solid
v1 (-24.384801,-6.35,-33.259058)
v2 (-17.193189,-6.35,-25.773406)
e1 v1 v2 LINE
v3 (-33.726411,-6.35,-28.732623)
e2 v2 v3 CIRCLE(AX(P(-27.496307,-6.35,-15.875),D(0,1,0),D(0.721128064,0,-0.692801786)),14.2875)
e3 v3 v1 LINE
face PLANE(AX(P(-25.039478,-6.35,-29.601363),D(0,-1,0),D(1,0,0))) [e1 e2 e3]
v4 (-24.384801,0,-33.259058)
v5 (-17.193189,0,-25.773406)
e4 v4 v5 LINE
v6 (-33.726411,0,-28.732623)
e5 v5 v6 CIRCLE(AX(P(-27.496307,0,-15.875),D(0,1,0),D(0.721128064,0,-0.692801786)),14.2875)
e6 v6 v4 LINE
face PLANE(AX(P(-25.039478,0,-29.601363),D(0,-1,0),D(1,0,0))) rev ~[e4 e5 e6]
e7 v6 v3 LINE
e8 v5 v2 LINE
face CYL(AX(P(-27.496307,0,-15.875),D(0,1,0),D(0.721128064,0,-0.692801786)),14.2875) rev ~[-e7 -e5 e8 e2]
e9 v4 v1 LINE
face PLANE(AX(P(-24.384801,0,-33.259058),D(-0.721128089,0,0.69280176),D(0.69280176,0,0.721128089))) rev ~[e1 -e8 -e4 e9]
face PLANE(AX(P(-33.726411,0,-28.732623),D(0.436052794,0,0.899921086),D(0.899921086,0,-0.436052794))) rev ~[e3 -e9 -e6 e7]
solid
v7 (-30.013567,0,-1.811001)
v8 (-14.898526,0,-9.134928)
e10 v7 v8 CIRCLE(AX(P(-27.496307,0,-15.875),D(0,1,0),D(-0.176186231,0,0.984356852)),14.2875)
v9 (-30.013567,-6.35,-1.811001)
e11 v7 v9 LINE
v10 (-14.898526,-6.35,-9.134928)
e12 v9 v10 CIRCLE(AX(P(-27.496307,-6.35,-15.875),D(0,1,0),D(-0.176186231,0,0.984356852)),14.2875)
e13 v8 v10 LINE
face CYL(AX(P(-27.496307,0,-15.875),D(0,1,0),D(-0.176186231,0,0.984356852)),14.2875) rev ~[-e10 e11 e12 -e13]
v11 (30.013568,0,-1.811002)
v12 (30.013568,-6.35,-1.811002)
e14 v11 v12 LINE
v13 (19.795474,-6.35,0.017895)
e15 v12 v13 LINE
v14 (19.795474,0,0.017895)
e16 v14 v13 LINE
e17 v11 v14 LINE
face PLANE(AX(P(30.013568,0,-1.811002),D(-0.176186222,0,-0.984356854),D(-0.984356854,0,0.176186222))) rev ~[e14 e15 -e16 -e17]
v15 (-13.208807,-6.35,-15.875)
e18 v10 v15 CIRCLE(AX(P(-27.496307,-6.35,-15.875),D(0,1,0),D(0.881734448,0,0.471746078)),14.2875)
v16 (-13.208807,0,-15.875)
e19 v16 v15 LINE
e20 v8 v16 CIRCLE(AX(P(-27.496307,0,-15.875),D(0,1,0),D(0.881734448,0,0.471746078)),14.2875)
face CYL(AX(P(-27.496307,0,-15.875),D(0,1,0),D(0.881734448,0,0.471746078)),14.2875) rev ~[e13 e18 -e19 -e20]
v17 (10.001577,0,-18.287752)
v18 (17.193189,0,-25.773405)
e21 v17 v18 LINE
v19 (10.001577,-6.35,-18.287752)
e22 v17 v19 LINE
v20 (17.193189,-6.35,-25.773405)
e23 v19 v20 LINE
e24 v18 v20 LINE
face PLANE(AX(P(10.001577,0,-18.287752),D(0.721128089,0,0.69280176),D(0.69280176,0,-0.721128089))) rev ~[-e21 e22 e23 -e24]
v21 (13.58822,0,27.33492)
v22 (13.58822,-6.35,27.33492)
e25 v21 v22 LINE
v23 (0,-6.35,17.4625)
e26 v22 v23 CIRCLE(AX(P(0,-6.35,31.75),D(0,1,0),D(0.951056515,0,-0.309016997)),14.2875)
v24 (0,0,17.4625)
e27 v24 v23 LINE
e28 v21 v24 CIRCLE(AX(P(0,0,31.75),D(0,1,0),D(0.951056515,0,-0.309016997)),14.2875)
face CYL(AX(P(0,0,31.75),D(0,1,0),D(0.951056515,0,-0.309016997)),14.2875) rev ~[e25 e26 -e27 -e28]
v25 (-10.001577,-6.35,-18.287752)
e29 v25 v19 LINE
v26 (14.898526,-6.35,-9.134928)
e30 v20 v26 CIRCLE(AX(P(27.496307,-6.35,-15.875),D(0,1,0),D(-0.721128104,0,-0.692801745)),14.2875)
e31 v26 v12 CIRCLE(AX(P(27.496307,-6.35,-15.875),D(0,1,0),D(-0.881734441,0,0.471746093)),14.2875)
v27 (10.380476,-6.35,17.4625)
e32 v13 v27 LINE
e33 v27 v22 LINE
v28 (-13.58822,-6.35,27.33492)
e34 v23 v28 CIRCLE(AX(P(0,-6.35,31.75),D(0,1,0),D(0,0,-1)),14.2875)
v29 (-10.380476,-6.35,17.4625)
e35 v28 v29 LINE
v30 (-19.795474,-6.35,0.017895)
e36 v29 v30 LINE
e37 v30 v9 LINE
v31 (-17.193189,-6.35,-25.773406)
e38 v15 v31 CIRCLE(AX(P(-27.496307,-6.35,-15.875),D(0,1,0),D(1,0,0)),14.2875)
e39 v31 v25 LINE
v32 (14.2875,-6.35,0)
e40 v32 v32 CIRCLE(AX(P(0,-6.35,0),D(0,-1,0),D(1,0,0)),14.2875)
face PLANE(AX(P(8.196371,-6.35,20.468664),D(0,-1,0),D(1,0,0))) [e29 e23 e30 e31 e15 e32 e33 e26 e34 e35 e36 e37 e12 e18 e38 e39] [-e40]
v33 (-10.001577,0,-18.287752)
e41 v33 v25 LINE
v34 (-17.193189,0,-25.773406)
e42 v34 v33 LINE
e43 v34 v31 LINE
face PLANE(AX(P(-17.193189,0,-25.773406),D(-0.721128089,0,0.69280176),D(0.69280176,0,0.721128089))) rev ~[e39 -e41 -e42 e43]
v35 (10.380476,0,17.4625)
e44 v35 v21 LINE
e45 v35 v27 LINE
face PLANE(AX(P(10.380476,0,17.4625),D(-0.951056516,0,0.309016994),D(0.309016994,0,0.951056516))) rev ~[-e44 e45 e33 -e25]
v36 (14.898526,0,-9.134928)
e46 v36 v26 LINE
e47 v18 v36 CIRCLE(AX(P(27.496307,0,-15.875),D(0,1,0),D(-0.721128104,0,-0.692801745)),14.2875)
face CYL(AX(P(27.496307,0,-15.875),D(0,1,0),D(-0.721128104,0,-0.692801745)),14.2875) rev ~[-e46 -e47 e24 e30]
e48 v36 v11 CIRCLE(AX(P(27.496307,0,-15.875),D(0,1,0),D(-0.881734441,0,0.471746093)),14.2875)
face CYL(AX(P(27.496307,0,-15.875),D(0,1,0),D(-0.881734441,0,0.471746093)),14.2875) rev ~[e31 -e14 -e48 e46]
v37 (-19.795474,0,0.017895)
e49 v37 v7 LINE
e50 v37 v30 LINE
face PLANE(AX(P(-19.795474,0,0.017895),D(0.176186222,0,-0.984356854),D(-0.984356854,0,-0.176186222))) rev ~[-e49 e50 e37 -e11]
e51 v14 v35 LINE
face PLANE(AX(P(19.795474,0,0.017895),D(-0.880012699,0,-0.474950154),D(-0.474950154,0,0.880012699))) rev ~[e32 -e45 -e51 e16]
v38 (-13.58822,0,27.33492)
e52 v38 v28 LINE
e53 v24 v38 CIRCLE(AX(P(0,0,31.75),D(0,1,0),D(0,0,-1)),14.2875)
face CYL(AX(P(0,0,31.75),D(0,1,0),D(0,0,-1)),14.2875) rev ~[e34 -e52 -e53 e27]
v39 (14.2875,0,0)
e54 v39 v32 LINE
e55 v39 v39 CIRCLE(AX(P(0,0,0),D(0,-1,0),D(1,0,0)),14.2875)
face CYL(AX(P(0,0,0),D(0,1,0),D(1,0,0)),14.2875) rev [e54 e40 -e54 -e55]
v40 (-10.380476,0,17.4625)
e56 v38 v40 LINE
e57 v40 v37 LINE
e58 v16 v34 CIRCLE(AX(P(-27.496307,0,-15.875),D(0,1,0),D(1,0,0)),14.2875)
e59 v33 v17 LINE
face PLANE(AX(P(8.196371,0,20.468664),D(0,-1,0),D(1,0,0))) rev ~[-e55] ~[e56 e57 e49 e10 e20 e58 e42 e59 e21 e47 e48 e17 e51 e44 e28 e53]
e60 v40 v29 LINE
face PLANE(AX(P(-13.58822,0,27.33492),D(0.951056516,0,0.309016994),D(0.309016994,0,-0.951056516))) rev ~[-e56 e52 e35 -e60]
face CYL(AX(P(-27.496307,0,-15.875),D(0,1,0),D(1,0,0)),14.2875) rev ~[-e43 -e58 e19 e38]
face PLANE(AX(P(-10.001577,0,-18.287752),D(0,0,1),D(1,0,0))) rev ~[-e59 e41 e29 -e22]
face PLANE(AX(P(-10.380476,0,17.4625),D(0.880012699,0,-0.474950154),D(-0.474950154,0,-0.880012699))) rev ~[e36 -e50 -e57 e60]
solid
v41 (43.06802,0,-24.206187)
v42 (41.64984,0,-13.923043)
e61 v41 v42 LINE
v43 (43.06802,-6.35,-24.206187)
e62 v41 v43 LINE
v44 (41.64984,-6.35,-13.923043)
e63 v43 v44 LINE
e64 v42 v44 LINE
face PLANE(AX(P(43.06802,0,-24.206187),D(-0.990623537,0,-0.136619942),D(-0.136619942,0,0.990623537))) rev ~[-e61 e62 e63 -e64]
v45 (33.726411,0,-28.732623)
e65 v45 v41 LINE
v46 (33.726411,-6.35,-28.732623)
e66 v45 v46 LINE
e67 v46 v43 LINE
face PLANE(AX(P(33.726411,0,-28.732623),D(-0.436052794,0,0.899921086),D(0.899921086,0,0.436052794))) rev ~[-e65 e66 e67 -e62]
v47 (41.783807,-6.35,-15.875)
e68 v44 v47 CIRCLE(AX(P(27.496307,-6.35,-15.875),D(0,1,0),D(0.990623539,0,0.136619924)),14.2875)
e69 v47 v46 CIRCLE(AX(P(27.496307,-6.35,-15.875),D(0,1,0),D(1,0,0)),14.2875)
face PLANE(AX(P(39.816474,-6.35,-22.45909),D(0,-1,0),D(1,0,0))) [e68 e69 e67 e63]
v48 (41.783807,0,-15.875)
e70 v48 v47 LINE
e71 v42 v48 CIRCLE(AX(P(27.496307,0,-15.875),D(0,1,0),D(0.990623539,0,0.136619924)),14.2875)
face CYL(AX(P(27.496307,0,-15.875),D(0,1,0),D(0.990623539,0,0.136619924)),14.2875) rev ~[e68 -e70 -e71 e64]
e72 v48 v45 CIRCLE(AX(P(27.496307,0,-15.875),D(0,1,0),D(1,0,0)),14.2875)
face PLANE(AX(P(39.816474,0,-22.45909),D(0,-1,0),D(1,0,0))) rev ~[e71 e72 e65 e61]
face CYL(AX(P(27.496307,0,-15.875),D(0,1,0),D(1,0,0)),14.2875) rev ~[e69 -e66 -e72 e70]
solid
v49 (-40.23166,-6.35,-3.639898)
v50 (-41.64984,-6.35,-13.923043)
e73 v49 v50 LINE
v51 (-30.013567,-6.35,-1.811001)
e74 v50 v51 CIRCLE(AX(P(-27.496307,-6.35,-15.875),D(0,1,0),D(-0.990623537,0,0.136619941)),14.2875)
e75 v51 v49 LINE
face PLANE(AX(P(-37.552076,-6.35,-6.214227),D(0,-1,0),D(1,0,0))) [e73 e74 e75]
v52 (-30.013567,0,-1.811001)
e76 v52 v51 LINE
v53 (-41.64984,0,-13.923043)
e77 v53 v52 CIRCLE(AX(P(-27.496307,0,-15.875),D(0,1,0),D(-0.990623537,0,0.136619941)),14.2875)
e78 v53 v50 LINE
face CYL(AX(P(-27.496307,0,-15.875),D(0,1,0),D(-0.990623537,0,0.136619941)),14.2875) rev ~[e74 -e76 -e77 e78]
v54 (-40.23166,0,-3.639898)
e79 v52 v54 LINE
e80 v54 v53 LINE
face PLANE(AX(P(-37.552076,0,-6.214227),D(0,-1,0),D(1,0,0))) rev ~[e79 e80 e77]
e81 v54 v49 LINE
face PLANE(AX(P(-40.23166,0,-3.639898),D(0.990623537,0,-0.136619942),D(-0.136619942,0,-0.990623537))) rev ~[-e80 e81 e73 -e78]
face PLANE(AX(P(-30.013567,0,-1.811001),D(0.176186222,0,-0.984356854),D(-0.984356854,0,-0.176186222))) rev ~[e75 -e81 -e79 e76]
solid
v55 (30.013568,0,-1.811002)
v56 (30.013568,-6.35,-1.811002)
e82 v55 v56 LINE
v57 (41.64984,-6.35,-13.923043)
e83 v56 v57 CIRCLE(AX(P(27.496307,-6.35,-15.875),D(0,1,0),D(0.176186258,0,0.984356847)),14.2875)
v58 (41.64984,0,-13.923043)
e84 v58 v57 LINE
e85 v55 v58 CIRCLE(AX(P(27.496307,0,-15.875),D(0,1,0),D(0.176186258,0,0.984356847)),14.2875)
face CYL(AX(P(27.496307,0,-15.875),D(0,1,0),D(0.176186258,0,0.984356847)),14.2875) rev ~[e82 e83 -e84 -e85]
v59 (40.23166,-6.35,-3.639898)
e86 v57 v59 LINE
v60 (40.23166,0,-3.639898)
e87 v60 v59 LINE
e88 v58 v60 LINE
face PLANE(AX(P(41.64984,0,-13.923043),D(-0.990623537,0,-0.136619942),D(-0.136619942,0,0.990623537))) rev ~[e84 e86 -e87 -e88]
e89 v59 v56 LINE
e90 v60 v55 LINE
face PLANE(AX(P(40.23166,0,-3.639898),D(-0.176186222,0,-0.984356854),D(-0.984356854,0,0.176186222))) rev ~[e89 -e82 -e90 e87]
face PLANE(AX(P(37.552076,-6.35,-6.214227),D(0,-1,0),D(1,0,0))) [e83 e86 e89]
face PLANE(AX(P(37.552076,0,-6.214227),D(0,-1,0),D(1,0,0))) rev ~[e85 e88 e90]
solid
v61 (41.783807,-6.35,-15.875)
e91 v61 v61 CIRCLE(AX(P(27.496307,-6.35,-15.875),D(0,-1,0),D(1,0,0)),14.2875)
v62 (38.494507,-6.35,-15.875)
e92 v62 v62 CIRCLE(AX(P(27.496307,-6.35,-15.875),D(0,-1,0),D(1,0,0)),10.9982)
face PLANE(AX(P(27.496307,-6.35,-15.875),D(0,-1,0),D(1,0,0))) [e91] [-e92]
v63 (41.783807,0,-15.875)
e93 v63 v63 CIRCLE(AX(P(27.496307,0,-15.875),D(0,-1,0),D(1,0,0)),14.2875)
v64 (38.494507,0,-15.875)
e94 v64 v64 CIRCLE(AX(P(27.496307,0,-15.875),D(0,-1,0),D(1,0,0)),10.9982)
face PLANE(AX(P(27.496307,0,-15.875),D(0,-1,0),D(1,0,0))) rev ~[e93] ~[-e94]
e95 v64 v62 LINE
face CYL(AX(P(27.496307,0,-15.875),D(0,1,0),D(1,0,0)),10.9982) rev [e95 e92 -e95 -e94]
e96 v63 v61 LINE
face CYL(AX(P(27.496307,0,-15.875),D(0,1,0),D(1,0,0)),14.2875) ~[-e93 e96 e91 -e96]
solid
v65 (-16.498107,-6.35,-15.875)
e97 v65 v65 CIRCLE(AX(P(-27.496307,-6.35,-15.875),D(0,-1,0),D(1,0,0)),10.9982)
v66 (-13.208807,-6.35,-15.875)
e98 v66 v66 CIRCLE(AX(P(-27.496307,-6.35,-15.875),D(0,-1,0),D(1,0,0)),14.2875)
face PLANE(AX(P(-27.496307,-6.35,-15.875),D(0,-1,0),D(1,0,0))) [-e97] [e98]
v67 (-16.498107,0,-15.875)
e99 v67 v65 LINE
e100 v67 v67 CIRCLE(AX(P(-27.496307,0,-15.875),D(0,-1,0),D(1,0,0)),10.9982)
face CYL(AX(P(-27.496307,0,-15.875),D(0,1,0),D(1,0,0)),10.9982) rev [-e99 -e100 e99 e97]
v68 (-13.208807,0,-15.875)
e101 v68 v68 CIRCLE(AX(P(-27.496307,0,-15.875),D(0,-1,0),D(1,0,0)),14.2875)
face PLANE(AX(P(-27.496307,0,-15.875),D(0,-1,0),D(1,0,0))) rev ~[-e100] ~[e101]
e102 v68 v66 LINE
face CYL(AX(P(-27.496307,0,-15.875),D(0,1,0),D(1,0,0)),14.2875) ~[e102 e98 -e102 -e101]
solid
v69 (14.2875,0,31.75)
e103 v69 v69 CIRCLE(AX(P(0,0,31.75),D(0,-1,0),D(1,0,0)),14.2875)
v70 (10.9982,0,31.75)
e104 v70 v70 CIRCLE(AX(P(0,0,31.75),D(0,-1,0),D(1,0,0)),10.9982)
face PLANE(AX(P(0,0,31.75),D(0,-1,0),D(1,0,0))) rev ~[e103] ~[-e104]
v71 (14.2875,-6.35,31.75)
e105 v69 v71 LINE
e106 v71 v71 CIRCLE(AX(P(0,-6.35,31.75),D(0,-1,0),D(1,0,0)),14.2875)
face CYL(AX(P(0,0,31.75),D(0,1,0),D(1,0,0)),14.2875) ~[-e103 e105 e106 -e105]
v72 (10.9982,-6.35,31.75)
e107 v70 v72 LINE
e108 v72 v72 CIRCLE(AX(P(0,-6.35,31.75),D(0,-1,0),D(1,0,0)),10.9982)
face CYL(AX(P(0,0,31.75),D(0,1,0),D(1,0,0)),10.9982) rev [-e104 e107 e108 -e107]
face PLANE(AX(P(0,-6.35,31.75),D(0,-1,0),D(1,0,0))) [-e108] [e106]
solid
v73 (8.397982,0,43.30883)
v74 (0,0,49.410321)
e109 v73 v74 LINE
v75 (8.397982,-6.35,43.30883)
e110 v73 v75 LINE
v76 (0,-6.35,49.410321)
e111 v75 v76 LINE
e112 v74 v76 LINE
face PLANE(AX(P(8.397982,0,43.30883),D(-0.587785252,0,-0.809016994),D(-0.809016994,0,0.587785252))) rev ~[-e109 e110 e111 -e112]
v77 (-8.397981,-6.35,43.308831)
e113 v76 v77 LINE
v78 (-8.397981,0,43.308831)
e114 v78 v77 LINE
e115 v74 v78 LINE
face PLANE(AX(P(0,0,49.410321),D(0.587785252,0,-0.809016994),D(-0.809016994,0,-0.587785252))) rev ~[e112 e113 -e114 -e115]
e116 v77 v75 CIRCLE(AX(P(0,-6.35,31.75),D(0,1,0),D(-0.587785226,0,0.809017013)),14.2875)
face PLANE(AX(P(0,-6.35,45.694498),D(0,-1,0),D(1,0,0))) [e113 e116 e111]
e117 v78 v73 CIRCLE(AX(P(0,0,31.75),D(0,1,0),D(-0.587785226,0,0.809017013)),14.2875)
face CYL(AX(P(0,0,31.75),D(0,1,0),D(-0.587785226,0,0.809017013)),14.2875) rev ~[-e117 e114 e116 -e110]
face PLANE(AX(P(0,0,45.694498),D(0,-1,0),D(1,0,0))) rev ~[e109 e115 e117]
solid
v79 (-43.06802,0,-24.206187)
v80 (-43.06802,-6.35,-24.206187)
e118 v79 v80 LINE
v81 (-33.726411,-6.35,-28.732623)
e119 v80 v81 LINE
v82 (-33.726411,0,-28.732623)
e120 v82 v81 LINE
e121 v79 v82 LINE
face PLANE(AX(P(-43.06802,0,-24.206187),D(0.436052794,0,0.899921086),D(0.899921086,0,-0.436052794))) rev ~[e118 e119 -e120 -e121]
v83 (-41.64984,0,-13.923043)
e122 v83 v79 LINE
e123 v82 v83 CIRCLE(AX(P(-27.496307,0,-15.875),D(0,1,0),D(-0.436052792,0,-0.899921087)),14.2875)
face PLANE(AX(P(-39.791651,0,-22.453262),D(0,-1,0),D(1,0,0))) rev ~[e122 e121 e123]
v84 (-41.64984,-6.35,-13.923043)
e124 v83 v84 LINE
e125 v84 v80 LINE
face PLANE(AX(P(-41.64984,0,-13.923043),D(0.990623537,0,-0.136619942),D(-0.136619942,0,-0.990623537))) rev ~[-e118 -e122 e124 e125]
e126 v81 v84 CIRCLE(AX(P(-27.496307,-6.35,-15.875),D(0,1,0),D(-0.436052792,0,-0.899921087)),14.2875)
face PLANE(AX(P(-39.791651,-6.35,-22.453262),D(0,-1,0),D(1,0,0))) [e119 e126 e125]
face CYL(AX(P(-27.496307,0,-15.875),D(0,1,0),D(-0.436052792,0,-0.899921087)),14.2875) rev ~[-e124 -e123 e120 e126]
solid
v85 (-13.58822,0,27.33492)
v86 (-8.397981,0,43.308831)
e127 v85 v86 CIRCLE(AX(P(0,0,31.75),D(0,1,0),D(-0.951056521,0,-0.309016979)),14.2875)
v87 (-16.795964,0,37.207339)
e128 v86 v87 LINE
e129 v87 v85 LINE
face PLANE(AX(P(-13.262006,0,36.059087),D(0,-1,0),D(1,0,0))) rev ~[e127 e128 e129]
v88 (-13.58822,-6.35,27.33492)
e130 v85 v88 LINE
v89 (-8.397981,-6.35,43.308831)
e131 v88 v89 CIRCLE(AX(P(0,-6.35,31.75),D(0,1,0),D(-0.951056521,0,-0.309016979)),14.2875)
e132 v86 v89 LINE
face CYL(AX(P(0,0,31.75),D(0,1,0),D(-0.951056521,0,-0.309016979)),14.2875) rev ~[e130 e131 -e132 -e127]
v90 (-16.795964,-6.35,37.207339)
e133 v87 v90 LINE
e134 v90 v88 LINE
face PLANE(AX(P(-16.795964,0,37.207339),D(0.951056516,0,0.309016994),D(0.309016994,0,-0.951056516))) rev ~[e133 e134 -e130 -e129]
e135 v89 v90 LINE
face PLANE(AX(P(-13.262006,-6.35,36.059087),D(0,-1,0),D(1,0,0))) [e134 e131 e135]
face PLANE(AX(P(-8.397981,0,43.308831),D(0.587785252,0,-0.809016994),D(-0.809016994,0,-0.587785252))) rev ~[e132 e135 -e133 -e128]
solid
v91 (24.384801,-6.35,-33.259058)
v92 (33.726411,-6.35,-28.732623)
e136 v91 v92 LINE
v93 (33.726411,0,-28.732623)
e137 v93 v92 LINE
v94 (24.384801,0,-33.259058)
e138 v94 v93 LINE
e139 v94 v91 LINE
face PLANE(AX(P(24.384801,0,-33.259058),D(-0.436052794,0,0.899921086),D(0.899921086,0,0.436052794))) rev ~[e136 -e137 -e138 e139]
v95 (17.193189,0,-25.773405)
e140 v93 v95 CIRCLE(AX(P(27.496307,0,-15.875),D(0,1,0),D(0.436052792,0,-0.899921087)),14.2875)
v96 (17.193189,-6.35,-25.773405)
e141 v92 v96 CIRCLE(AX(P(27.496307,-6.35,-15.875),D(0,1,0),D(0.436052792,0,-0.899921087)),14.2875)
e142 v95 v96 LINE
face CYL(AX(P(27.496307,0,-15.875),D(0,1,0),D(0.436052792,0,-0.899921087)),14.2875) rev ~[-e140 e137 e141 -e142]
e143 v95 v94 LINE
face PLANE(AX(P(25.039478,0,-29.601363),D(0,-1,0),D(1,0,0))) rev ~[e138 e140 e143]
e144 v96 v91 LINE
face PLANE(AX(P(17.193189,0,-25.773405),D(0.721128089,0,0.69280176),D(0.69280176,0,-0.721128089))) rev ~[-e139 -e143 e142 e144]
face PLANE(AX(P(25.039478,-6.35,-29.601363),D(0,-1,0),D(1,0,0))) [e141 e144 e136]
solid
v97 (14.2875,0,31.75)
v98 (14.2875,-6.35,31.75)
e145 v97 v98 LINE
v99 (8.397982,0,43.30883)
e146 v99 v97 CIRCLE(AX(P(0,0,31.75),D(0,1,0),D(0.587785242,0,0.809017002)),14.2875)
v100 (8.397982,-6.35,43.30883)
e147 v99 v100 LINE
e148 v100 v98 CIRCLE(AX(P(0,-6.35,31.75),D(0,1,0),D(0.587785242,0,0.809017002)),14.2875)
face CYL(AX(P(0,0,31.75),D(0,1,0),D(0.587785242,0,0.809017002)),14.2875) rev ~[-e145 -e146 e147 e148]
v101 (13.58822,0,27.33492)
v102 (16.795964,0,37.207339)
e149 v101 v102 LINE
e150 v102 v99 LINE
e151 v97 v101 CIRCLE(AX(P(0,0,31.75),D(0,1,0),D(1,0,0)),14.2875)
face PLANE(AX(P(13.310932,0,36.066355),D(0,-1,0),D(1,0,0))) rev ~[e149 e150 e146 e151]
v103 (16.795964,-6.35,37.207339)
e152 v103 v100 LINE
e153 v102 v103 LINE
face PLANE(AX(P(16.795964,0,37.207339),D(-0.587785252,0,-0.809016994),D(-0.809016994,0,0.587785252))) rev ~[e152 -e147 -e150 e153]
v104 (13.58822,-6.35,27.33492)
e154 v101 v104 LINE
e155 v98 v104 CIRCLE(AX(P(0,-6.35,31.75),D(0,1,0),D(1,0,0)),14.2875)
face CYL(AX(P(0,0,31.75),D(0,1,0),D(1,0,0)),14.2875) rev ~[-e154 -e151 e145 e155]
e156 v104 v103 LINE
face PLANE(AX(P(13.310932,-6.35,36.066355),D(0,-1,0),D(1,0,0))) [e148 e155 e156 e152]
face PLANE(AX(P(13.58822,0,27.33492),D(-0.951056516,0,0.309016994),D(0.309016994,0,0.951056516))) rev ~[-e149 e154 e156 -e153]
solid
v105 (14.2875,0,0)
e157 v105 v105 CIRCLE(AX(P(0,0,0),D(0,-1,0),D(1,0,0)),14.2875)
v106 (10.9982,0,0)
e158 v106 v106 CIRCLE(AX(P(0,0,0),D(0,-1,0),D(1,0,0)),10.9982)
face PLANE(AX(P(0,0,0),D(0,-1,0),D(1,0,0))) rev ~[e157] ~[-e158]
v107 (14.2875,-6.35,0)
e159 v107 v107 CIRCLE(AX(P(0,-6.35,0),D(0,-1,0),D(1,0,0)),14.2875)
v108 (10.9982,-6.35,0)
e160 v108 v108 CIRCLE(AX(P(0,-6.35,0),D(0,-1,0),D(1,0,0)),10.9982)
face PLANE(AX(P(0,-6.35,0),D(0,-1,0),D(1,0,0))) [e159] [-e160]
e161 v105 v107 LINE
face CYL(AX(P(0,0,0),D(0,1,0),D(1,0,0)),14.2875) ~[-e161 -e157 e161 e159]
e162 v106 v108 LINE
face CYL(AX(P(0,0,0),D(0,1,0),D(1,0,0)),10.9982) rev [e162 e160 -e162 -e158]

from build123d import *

# Parameters (mm, degrees)
F2_DEPTH = 6.35
F1_R     = 14.2875
F0_R     = 14.2875
F0_R_2   = 10.9982


with BuildPart() as f2:
    # F1 (on Front) → F2 (new body)
    with BuildSketch(Plane.XZ):
        with BuildLine():
            ThreePointArc((-8.3979814229, 43.3088305754), (1.363e-07, 46.0375), (8.3979816434, 43.3088304152))
            Line((8.3979816434, 43.3088304152), (0, 49.4103212285))
            Line((0, 49.4103212285), (-8.3979814229, 43.3088305754))
        make_face()
    extrude(amount=F2_DEPTH)


with BuildPart() as f2b:
    # F1 (on Front) → F2, piece 2 (new body)
    with BuildSketch(Plane.XZ):
        with BuildLine():
            ThreePointArc((8.3979816434, 43.3088304152), (12.7302556726, 38.2363893469), (14.2875, 31.75))
            ThreePointArc((14.2875, 31.75), (14.1115971627, 29.5149425581), (13.5882199624, 27.3349196492))
            Line((13.5882199624, 27.3349196492), (16.7959635843, 37.2073393857))
            Line((16.7959635843, 37.2073393857), (8.3979816434, 43.3088304152))
        make_face()
    extrude(amount=F2_DEPTH)


with BuildPart() as f2c:
    # F1 (on Front) → F2, piece 3 (new body)
    with BuildSketch(Plane.XZ):
        with BuildLine():
            Line((10.3804763689, 17.4625), (13.5882199624, 27.3349196492))
            ThreePointArc((13.5882199624, 27.3349196492), (8.3979817736, 20.1911696794), (0, 17.4625))
            Line((0, 17.4625), (10.3804763689, 17.4625))
        make_face()
        with BuildLine():
            Line((-10.3804763689, 17.4625), (0, 17.4625))
            ThreePointArc((0, 17.4625), (-8.3979818829, 20.1911697588), (-13.5882200459, 27.3349199063))
            Line((-13.5882200459, 27.3349199063), (-10.3804763689, 17.4625))
        make_face()
        Polygon((10.3804763689, 17.4625), (0, 17.4625), (-10.3804763689, 17.4625), (-19.7954741612, 0.01789546), (-14.8985256383, -9.1349279051), (-10.0015766949, -18.2877520565), (10.0015766949, -18.2877520565), (14.8985257481, -9.1349277), (19.7954741612, 0.01789546), align=None)
        Circle(F1_R, mode=Mode.SUBTRACT)
        with BuildLine():
            Line((30.013567735, -1.8110015473), (19.7954741612, 0.01789546))
            Line((19.7954741612, 0.01789546), (14.8985257481, -9.1349277))
            ThreePointArc((14.8985257481, -9.1349277), (21.266202822, -3.0173772206), (30.013567735, -1.8110015473))
        make_face()
        with BuildLine():
            ThreePointArc((17.1931887816, -25.7734049263), (13.3427727218, -17.8269569294), (14.8985257481, -9.1349277))
            Line((14.8985257481, -9.1349277), (10.0015766949, -18.2877520565))
            Line((10.0015766949, -18.2877520565), (17.1931887816, -25.7734049263))
        make_face()
        with BuildLine():
            Line((-14.8985256383, -9.1349279051), (-19.7954741612, 0.01789546))
            Line((-19.7954741612, 0.01789546), (-30.0135673402, -1.8110014766))
            ThreePointArc((-30.0135673402, -1.8110014766), (-21.2662025369, -3.0173773588), (-14.8985256383, -9.1349279051))
        make_face()
        with BuildLine():
            Line((-10.0015766949, -18.2877520565), (-14.8985256383, -9.1349279051))
            ThreePointArc((-14.8985256383, -9.1349279051), (-13.6376729558, -12.4006755198), (-13.2088065702, -15.875))
            ThreePointArc((-13.2088065702, -15.875), (-14.242279946, -21.2101133535), (-17.1931893516, -25.7734055196))
            Line((-17.1931893516, -25.7734055196), (-10.0015766949, -18.2877520565))
        make_face()
    extrude(amount=F2_DEPTH)


with BuildPart() as f2d:
    # F1 (on Front) → F2, piece 4 (new body)
    with BuildSketch(Plane.XZ):
        with BuildLine():
            ThreePointArc((-13.5882200459, 27.3349199063), (-13.5882198714, 36.1650806309), (-8.3979814229, 43.3088305754))
            Line((-8.3979814229, 43.3088305754), (-16.7959635843, 37.2073393857))
            Line((-16.7959635843, 37.2073393857), (-13.5882200459, 27.3349199063))
        make_face()
    extrude(amount=F2_DEPTH)


with BuildPart() as f2e:
    # F1 (on Front) → F2, piece 5 (new body)
    with BuildSketch(Plane.XZ):
        with BuildLine():
            Line((43.0680204275, -24.2061867966), (41.649840386, -13.9230428349))
            ThreePointArc((41.649840386, -13.9230428349), (41.7502756778, -14.8967255354), (41.7838065702, -15.875))
            ThreePointArc((41.7838065702, -15.875), (39.603025178, -23.4618320662), (33.7264108326, -28.7326225302))
            Line((33.7264108326, -28.7326225302), (43.0680204275, -24.2061867966))
        make_face()
    extrude(amount=F2_DEPTH)


with BuildPart() as f2f:
    # F1 (on Front) → F2, piece 6 (new body)
    with BuildSketch(Plane.XZ):
        with BuildLine():
            ThreePointArc((33.7264108326, -28.7326225302), (24.9790457568, -29.9389985156), (17.1931887816, -25.7734049263))
            Line((17.1931887816, -25.7734049263), (24.3848012922, -33.2590582374))
            Line((24.3848012922, -33.2590582374), (33.7264108326, -28.7326225302))
        make_face()
    extrude(amount=F2_DEPTH)


with BuildPart() as f2g:
    # F1 (on Front) → F2, piece 7 (new body)
    with BuildSketch(Plane.XZ):
        with BuildLine():
            Line((40.231660275, -3.6398983696), (30.013567735, -1.8110015473))
            ThreePointArc((30.013567735, -1.8110015473), (37.7994244167, -5.9765951341), (41.649840386, -13.9230428349))
            Line((41.649840386, -13.9230428349), (40.231660275, -3.6398983696))
        make_face()
    extrude(amount=F2_DEPTH)


with BuildPart() as f2h:
    # F1 (on Front) → F2, piece 8 (new body)
    with BuildSketch(Plane.XZ):
        with BuildLine():
            Line((-24.3848012922, -33.2590582374), (-17.1931893516, -25.7734055196))
            ThreePointArc((-17.1931893516, -25.7734055196), (-24.9790461617, -29.9389985881), (-33.7264108326, -28.7326225302))
            Line((-33.7264108326, -28.7326225302), (-24.3848012922, -33.2590582374))
        make_face()
    extrude(amount=F2_DEPTH)


with BuildPart() as f2i:
    # F1 (on Front) → F2, piece 9 (new body)
    with BuildSketch(Plane.XZ):
        with BuildLine():
            ThreePointArc((-33.7264108326, -28.7326225302), (-40.0940877018, -22.6150717213), (-41.6498403532, -13.923042597))
            Line((-41.6498403532, -13.923042597), (-43.0680204275, -24.2061867966))
            Line((-43.0680204275, -24.2061867966), (-33.7264108326, -28.7326225302))
        make_face()
    extrude(amount=F2_DEPTH)


with BuildPart() as f2j:
    # F1 (on Front) → F2, piece 10 (new body)
    with BuildSketch(Plane.XZ):
        with BuildLine():
            ThreePointArc((-41.6498403532, -13.923042597), (-37.7994241946, -5.9765949029), (-30.0135673402, -1.8110014766))
            Line((-30.0135673402, -1.8110014766), (-40.231660275, -3.6398983696))
            Line((-40.231660275, -3.6398983696), (-41.6498403532, -13.923042597))
        make_face()
    extrude(amount=F2_DEPTH)


with BuildPart() as f2k:
    # F0 (on Front) → F2, piece 11 (new body)
    with BuildSketch(Plane.XZ):
        with Locations((0, 31.75)):
            Circle(F0_R)
        with Locations((0, 31.75)):
            Circle(F0_R_2, mode=Mode.SUBTRACT)
    extrude(amount=F2_DEPTH)


with BuildPart() as f2l:
    # F0 (on Front) → F2, piece 12 (new body)
    with BuildSketch(Plane.XZ):
        Circle(F0_R)
        Circle(F0_R_2, mode=Mode.SUBTRACT)
    extrude(amount=F2_DEPTH)


with BuildPart() as f2m:
    # F0 (on Front) → F2, piece 13 (new body)
    with BuildSketch(Plane.XZ):
        with Locations((27.4963065702, -15.875)):
            Circle(F0_R)
        with Locations((27.4963065702, -15.875)):
            Circle(F0_R_2, mode=Mode.SUBTRACT)
    extrude(amount=F2_DEPTH)


with BuildPart() as f2n:
    # F0 (on Front) → F2, piece 14 (new body)
    with BuildSketch(Plane.XZ):
        with Locations((-27.4963065702, -15.875)):
            Circle(F0_R)
        with Locations((-27.4963065702, -15.875)):
            Circle(F0_R_2, mode=Mode.SUBTRACT)
    extrude(amount=F2_DEPTH)


solid = Compound([f2.part, f2b.part, f2c.part, f2d.part, f2e.part, f2f.part, f2g.part, f2h.part, f2i.part, f2j.part, f2k.part, f2l.part, f2m.part, f2n.part])
